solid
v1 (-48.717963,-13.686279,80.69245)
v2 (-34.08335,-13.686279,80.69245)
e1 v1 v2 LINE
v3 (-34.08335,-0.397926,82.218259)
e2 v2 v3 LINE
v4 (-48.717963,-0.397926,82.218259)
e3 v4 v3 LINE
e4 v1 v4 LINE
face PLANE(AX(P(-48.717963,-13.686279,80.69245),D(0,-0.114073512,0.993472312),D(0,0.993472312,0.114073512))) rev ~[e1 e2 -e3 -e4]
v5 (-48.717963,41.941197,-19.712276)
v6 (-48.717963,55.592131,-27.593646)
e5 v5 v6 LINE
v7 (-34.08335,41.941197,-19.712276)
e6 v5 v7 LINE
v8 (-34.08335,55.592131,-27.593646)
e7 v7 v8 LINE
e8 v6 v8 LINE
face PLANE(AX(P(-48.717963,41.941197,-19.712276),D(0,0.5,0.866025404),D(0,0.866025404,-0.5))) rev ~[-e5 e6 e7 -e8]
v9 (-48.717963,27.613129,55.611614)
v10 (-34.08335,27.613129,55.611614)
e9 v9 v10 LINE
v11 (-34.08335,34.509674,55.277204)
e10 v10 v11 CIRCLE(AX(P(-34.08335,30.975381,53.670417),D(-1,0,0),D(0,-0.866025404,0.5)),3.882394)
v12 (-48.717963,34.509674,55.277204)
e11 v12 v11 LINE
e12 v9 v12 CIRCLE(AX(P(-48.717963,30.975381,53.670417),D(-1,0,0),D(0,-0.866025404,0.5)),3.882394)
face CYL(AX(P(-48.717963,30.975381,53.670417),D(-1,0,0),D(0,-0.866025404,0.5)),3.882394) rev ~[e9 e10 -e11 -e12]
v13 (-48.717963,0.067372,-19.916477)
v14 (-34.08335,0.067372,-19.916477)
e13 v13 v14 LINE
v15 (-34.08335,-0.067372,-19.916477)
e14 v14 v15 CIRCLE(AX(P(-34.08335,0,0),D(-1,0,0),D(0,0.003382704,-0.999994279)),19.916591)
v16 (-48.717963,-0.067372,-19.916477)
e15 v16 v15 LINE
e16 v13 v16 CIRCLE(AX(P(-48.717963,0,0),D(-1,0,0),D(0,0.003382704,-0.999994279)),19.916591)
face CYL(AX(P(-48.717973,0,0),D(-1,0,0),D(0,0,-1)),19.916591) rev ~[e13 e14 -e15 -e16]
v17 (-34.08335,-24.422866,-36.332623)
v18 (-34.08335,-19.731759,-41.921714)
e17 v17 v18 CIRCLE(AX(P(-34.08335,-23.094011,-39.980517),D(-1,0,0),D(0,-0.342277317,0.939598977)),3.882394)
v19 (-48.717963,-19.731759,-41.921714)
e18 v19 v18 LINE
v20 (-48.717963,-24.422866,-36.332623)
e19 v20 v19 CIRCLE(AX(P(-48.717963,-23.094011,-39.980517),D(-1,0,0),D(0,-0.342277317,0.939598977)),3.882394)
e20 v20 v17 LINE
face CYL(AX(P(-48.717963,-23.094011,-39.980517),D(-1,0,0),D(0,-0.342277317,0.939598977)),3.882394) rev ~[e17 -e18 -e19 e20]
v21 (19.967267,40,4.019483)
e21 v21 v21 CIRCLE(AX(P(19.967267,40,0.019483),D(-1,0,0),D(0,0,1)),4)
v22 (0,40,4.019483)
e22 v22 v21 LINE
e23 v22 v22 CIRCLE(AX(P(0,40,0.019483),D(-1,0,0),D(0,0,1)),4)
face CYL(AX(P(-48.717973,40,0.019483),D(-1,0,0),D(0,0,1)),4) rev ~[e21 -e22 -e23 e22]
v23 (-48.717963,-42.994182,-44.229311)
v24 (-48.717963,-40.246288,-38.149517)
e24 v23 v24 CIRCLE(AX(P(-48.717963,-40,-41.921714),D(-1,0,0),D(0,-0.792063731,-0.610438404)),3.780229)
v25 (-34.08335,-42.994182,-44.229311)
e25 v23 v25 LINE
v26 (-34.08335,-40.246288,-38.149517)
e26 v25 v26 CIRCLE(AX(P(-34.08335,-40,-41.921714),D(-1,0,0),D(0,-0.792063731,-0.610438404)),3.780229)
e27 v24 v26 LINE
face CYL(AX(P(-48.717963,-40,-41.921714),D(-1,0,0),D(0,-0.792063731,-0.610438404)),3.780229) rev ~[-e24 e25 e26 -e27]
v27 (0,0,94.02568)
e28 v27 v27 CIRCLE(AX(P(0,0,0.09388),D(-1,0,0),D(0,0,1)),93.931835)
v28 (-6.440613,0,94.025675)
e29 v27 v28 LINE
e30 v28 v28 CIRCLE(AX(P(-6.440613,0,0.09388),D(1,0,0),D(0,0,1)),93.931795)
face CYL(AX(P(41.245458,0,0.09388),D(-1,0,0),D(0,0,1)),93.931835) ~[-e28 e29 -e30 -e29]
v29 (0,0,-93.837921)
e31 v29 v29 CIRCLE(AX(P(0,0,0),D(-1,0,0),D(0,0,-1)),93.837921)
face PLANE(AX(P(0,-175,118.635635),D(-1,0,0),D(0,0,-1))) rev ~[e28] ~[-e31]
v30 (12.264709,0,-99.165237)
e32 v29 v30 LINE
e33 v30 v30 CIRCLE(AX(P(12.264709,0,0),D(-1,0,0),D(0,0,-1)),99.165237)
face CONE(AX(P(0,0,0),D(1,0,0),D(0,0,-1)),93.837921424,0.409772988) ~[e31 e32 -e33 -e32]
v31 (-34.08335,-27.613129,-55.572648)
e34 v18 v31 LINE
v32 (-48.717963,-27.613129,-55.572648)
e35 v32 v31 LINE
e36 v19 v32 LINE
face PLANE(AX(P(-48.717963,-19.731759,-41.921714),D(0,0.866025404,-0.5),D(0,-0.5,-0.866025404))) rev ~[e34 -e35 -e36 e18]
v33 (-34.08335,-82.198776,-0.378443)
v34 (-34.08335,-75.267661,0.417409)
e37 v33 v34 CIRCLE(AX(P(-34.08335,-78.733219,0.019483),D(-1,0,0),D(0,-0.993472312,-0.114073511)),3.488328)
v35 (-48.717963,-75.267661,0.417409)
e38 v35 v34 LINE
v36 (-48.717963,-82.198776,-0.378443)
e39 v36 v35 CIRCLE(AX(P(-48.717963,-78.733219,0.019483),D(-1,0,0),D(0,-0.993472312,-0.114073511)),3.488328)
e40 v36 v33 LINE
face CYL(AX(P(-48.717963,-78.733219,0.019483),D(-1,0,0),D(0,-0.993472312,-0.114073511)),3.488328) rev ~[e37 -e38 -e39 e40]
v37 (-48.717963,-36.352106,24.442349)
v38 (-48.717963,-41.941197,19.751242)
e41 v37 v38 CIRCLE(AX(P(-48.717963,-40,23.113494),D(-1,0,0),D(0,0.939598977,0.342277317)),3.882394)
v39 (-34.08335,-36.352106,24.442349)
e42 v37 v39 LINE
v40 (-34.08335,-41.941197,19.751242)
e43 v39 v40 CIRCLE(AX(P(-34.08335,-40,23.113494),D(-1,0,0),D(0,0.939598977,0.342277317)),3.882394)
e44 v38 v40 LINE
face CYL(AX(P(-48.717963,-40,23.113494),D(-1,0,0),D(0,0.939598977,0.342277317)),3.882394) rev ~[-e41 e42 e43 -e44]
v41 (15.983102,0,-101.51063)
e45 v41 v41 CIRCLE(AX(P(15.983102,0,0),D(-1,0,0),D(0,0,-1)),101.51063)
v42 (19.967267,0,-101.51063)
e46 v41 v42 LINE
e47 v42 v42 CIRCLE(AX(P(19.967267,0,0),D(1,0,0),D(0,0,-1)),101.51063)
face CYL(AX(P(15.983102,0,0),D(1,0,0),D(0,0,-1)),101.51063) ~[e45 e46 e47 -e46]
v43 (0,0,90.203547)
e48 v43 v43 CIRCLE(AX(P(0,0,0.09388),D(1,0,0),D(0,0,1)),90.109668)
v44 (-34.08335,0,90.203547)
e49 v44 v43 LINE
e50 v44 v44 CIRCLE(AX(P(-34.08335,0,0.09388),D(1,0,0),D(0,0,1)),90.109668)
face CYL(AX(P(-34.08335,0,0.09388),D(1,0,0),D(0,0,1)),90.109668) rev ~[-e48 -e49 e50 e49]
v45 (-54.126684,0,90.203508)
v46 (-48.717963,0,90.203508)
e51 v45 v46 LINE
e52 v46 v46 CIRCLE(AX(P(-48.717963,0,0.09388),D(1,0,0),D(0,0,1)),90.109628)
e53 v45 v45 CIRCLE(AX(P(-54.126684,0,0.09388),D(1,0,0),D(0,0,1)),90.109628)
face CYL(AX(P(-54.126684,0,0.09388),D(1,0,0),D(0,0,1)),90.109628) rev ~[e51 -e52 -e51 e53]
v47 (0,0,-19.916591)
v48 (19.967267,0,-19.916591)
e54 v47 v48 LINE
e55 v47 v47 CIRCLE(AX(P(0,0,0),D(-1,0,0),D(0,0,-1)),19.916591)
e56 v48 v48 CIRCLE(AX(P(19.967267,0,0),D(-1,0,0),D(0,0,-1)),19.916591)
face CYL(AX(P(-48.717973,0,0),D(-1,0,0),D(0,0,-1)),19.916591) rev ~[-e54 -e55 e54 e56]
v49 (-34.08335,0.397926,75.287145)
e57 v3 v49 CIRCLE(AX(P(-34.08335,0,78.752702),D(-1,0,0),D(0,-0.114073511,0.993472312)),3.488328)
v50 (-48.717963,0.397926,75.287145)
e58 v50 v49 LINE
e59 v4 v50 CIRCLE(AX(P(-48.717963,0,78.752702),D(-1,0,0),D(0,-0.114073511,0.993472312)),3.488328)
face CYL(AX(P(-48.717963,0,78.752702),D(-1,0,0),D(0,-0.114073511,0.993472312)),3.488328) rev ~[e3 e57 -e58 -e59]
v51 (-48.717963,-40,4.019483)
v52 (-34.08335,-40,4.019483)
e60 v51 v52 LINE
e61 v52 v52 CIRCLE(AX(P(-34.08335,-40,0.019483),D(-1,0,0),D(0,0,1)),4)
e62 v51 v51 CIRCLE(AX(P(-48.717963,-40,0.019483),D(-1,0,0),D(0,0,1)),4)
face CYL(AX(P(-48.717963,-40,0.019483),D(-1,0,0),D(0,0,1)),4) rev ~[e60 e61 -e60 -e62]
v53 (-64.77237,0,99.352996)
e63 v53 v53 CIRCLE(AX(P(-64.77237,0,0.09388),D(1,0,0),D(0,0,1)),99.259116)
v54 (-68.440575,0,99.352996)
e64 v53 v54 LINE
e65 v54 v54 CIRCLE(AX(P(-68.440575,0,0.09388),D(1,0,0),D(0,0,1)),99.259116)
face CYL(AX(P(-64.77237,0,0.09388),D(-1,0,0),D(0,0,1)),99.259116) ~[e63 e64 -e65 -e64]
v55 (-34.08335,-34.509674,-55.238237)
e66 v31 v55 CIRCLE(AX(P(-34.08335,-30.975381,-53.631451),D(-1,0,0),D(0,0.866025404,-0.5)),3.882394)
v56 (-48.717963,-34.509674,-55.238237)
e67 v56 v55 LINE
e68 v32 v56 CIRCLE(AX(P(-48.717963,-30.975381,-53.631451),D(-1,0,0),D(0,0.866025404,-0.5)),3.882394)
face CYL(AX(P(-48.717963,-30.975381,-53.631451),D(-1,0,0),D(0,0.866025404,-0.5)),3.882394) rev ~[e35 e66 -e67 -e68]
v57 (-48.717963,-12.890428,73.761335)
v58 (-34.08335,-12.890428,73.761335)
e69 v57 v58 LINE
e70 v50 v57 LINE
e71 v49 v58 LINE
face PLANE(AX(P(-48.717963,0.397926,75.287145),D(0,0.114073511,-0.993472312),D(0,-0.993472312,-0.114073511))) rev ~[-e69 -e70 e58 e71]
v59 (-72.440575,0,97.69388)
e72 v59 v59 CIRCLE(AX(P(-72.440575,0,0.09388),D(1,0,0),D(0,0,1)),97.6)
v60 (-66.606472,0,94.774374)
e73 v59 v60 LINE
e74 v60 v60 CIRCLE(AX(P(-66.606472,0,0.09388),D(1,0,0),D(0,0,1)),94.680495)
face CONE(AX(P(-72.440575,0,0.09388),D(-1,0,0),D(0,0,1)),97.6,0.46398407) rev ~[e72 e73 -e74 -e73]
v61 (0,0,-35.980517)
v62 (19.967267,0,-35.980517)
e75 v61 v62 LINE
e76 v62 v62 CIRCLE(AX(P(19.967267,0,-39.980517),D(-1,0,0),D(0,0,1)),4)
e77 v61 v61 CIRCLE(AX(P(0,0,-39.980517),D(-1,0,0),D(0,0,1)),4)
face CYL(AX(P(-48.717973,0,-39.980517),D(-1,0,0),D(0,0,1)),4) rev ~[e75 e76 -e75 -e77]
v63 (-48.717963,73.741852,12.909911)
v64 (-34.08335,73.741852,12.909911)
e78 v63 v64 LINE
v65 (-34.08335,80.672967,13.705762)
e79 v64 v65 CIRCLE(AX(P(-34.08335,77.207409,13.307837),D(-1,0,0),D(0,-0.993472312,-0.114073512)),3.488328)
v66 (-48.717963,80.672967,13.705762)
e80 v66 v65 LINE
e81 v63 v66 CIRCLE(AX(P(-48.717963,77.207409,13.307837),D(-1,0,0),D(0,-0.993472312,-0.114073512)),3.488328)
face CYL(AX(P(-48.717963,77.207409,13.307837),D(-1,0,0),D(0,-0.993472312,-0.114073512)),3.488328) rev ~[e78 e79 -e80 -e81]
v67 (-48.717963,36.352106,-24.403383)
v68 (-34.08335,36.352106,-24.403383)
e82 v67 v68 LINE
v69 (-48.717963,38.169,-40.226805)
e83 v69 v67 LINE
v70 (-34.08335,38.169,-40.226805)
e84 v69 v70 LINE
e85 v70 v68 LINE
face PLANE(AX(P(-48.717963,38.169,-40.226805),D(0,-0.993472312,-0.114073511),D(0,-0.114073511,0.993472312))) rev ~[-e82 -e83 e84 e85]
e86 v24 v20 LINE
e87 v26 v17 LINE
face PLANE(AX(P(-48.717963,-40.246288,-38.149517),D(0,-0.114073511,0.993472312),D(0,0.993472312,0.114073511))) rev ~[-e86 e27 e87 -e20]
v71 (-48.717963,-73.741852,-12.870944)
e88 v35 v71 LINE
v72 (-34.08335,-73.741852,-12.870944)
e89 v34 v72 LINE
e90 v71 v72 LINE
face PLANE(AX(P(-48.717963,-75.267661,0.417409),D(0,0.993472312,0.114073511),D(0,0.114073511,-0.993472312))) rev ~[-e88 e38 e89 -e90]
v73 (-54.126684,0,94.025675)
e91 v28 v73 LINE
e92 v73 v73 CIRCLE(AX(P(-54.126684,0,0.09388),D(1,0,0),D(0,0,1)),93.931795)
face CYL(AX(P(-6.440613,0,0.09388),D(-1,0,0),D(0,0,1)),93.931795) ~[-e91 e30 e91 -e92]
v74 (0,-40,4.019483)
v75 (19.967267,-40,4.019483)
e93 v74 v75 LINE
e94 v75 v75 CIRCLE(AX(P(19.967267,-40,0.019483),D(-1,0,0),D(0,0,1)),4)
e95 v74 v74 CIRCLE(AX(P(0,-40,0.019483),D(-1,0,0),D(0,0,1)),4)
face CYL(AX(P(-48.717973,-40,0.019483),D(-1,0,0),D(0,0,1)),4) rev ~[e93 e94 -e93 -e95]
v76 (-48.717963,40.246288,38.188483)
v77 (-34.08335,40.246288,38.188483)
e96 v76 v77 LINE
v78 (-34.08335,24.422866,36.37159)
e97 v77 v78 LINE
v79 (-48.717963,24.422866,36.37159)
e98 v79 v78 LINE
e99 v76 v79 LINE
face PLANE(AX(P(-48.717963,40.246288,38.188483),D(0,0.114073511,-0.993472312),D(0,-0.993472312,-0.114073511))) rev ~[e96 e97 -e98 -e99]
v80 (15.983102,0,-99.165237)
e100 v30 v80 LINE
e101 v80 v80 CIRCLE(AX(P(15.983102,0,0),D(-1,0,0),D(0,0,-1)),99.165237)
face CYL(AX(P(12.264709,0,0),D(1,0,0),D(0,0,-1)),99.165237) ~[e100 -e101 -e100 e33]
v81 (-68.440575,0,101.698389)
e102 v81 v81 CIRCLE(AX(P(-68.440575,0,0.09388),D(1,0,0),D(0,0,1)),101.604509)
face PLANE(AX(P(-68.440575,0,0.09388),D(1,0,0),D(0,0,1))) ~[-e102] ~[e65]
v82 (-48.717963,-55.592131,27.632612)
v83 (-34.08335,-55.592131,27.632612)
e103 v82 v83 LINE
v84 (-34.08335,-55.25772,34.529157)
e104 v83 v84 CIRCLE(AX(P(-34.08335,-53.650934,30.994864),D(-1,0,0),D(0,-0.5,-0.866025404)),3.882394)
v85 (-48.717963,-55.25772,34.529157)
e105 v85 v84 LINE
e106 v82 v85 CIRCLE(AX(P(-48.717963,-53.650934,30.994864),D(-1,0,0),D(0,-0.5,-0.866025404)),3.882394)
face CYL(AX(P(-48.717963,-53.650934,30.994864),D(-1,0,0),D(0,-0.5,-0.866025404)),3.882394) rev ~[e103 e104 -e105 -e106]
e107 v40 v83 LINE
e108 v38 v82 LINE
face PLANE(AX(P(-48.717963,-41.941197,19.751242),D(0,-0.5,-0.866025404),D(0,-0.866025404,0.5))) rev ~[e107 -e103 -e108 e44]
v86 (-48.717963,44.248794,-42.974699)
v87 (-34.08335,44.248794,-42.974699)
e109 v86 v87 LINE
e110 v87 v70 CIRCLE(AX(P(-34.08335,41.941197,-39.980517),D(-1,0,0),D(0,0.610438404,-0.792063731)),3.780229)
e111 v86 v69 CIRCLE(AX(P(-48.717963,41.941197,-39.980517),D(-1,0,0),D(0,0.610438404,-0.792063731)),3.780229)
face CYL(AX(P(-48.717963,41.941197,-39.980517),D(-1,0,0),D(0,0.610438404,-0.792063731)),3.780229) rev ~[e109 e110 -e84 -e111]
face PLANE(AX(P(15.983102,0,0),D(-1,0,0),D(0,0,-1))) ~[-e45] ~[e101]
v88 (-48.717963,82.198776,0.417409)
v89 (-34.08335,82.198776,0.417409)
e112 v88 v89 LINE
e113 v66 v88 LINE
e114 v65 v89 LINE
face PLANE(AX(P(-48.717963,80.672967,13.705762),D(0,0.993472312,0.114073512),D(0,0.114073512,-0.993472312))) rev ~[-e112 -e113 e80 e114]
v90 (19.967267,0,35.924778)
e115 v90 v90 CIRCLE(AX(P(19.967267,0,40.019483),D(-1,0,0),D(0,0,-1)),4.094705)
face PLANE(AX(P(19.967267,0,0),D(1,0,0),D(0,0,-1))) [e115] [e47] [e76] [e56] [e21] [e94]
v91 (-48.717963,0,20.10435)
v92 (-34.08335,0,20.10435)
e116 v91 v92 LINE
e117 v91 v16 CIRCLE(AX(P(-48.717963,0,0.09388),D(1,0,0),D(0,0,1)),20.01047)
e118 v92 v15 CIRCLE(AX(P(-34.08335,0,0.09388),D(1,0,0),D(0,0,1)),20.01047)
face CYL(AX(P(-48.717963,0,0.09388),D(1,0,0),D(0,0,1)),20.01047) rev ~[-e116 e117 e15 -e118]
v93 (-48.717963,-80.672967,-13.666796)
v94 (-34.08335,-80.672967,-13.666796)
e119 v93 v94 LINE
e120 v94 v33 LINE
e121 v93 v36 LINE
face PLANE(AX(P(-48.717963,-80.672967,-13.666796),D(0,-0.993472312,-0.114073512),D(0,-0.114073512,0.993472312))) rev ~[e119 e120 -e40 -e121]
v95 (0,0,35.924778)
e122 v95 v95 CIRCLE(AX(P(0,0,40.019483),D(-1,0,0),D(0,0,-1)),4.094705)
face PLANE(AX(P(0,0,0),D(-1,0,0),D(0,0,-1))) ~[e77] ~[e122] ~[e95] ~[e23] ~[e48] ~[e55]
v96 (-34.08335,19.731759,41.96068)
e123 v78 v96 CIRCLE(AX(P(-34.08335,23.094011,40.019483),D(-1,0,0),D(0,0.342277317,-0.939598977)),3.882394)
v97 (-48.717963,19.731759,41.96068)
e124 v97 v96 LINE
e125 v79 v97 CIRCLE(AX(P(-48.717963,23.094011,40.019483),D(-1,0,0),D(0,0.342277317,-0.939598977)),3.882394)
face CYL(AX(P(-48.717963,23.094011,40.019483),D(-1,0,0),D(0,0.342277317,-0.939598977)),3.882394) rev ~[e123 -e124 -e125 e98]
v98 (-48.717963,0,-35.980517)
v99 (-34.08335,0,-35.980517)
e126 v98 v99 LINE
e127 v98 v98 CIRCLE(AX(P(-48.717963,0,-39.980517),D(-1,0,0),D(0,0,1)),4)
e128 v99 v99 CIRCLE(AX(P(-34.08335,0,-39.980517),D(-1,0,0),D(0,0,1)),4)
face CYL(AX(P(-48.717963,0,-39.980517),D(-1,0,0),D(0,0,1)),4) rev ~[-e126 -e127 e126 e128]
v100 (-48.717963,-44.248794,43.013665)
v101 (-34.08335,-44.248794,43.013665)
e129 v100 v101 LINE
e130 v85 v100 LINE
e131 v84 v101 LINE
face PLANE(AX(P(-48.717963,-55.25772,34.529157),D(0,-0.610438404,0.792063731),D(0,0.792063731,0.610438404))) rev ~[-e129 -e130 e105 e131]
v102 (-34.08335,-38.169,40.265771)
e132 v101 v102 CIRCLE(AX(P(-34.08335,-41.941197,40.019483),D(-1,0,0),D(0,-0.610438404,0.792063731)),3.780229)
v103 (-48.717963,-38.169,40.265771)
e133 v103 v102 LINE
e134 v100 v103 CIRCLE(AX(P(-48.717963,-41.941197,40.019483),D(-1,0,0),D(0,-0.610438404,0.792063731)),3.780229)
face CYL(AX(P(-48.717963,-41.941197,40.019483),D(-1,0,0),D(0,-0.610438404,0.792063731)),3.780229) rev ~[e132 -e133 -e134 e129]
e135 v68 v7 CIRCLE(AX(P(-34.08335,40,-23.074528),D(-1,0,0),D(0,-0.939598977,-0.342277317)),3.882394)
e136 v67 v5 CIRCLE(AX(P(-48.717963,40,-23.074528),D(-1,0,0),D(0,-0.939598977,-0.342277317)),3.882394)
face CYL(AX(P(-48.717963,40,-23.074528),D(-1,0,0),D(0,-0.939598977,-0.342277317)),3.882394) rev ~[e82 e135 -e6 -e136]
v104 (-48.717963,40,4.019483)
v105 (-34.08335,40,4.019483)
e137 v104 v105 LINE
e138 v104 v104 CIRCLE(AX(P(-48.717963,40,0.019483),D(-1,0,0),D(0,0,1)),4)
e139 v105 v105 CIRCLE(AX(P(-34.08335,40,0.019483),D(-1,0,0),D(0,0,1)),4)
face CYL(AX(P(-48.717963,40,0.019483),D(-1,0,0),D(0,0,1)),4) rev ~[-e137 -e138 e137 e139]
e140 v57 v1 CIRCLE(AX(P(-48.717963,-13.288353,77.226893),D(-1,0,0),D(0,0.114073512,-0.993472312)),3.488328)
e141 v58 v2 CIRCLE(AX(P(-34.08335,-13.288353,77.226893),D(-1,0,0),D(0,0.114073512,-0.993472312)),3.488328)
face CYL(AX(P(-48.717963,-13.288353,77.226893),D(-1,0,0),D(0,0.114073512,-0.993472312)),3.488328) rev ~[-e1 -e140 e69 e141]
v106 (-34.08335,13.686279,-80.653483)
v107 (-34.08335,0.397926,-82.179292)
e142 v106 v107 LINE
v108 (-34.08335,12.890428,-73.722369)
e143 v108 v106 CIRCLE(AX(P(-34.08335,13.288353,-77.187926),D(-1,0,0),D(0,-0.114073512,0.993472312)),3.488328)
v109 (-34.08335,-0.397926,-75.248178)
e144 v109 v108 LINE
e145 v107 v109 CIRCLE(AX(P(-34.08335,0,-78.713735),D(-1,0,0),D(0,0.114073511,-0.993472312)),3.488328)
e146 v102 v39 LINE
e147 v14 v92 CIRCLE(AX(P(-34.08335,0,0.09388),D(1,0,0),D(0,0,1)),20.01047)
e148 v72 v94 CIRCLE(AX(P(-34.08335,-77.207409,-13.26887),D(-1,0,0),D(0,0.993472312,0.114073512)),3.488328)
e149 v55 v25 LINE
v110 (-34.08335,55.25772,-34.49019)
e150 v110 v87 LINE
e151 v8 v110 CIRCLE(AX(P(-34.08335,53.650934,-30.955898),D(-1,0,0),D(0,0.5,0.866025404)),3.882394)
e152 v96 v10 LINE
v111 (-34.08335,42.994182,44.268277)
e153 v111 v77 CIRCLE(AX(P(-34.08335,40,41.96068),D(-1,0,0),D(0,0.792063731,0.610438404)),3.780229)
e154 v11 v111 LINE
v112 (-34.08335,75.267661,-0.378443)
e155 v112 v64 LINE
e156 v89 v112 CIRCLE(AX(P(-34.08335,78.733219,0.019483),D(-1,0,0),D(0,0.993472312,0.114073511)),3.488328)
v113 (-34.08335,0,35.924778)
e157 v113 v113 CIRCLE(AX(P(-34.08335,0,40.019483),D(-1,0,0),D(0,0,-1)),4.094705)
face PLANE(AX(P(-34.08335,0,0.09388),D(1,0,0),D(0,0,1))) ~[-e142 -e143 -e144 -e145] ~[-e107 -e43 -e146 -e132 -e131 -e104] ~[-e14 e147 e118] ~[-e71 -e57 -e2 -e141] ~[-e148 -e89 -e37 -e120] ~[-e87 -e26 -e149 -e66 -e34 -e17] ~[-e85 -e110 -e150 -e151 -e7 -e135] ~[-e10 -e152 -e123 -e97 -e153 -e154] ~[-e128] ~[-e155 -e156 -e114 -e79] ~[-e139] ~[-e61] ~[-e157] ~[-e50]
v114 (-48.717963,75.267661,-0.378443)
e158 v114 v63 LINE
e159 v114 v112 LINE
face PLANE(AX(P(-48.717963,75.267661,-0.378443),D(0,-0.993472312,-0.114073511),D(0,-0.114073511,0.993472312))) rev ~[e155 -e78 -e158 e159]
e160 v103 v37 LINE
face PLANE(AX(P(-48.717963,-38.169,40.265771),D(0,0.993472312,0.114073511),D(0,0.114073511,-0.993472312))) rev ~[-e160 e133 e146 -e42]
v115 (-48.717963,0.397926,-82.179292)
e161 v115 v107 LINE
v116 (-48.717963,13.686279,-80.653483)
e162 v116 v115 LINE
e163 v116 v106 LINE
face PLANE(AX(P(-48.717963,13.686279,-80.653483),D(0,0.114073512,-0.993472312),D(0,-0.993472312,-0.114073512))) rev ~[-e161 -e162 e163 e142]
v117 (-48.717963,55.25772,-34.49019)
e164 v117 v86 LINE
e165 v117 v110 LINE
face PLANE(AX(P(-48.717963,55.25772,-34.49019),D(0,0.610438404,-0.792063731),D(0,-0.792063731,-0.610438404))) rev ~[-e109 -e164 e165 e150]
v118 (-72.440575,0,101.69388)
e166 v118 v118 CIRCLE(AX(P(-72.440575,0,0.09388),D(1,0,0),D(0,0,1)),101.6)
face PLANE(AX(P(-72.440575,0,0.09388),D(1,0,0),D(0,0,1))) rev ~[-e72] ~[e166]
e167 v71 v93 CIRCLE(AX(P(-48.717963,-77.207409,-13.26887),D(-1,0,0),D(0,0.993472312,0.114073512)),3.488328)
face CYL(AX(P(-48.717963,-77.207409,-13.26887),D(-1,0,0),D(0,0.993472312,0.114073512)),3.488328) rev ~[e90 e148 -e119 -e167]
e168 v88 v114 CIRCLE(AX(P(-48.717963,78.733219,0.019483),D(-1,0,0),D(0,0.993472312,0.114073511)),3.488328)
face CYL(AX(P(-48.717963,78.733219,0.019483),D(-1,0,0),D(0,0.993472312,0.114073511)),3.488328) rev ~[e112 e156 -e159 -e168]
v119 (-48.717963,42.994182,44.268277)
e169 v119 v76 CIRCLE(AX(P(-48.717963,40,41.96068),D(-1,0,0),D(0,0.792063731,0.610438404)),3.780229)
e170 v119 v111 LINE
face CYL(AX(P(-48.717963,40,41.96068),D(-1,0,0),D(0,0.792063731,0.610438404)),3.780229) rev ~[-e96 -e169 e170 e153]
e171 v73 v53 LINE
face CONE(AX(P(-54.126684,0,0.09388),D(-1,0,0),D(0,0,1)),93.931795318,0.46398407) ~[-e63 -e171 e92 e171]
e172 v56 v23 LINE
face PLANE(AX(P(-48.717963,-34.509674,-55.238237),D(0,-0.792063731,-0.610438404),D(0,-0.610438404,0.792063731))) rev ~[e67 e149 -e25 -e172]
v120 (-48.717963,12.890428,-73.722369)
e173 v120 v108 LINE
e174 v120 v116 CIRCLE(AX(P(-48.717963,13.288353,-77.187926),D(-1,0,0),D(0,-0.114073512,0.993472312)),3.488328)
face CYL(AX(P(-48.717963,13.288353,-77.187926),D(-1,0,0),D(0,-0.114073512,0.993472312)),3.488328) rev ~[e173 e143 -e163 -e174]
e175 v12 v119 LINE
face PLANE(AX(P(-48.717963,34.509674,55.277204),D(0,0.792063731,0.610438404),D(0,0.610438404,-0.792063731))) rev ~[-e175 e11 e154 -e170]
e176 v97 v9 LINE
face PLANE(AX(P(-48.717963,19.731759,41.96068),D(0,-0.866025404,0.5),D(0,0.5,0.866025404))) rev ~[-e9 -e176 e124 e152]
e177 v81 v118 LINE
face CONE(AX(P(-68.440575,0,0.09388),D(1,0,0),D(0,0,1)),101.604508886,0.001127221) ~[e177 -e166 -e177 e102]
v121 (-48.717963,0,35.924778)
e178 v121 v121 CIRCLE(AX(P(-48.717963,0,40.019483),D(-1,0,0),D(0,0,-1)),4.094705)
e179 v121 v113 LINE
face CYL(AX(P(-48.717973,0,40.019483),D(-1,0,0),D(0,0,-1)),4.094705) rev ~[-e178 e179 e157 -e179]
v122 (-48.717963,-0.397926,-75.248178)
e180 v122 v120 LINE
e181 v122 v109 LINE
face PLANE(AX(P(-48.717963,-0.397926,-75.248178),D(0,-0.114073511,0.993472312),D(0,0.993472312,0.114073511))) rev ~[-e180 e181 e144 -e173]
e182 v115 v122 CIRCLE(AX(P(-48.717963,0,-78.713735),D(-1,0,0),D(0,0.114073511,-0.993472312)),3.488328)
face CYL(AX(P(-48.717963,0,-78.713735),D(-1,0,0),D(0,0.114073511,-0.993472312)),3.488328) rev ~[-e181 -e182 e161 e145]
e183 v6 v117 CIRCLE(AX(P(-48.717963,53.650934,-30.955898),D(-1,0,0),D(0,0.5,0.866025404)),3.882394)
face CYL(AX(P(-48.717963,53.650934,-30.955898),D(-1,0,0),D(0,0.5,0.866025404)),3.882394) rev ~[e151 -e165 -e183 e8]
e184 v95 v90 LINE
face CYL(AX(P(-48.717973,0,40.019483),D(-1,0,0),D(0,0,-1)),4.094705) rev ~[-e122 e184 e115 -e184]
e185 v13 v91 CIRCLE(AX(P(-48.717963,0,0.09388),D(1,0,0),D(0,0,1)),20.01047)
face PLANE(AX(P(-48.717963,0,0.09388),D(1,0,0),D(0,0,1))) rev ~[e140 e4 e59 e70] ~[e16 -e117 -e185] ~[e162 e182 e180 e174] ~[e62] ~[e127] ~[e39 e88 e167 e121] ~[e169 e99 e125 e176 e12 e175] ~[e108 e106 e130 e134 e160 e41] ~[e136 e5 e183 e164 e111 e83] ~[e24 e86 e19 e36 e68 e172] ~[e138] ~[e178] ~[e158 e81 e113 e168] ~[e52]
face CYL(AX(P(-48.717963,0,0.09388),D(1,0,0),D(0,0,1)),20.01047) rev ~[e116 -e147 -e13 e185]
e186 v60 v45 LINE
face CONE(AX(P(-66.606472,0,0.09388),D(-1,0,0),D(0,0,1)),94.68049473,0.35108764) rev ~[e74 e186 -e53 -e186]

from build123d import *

# Parameters (mm, degrees)
CROQUIS2_R                 = 5
CORTAR_EXTRUIR1_DEPTH      = 225.951634778
ESCALA1_SCALE              = 0.8
CORTAR_EXTRUIR2_DEPTH      = 255
CORTAR_EXTRUIR2_DEPTH_BACK = 175
CROQUIS3_W                 = 69.878792472
CROQUIS3_H                 = 224.605431487
CROQUIS5_R                 = 101.510629677
CORTAR_EXTRUIR3_DEPTH      = 1.8
CROQUIS6_R                 = 19.91659092
CORTAR_EXTRUIR4_DEPTH      = 123
CROQUIS7_R                 = 4
CROQUIS7_R_2               = 4.0947051
CORTAR_EXTRUIR5_DEPTH      = 123


with BuildPart() as part:
    # Croquis1 → Revolución1 (revolve)
    with BuildSketch(Plane(origin=(0, 0, 0), x_dir=(1, 0, 0), z_dir=(0, 1, 0)), mode=Mode.PRIVATE) as revoluci_n1_sk:
        Polygon((-84.492307697, 126.907004271), (-84.492307697, 121.907004271), (-77.199679771, 118.257622684), (-61.599944947, 112.544039646), (-54.839043525, 112.544039646), (-54.839043525, 24.920091933), (-36.545776531, 24.920091933), (-36.545776531, 112.544088846), (57.615236657, 112.544088846), (73.214966765, 118.25768476), (80.50759168, 121.907072367), (80.507587553, 126.907072367), (75.507587548, 126.912704348), (75.507589968, 123.980963434), (70.922334115, 123.980959649), (57.615232714, 117.321797618), (-1.992356117, 117.321748418), (-61.599944947, 117.321748418), (-74.907051844, 123.980899465), (-79.492307697, 123.980899465), (-79.492307697, 126.912640379), align=None)
    revolve(revoluci_n1_sk.sketch.rotate(Axis((-84.492307697, 0, 0.092995729), (1, 0, 0)), 180), axis=Axis((-84.492307697, 0, 0.092995729), (1, 0, 0)))

    # Croquis2 → Cortar-Extruir1 (cut, through all)
    with BuildSketch(Plane.ZY.offset(54.839043525)):
        with BuildLine():
            ThreePointArc((30.528582788, -45.440133008), (25.150332276, -46.880047701), (24.664698483, -52.426496358))
            Line((24.664698483, -52.426496358), (34.516411599, -69.490164015))
            ThreePointArc((34.516411599, -69.490164015), (38.954270135, -71.910965134), (43.137091963, -69.072150594))
            Line((43.137091963, -69.072150594), (53.742727711, -55.310992442))
            ThreePointArc((53.742727711, -55.310992442), (54.305907236, -50.480348559), (50.307859812, -47.711249735))
            Line((50.307859812, -47.711249735), (30.528582788, -45.440133008))
        make_face()
        with BuildLine():
            ThreePointArc((45.440133008, 30.528582788), (46.880047701, 25.150332276), (52.426496358, 24.664698483))
            Line((52.426496358, 24.664698483), (69.490164015, 34.516411599))
            ThreePointArc((69.490164015, 34.516411599), (71.910965134, 38.954270135), (69.072150594, 43.137091963))
            Line((69.072150594, 43.137091963), (55.310992442, 53.742727711))
            ThreePointArc((55.310992442, 53.742727711), (50.480348559, 54.305907236), (47.711249735, 50.307859812))
            Line((47.711249735, 50.307859812), (45.440133008, 30.528582788))
        make_face()
        with BuildLine():
            ThreePointArc((-45.440133008, -30.528582788), (-46.880047701, -25.150332276), (-52.426496358, -24.664698483))
            Line((-52.426496358, -24.664698483), (-69.490164015, -34.516411599))
            ThreePointArc((-69.490164015, -34.516411599), (-71.910965134, -38.954270135), (-69.072150594, -43.137091963))
            Line((-69.072150594, -43.137091963), (-55.310992442, -53.742727711))
            ThreePointArc((-55.310992442, -53.742727711), (-50.480348559, -54.305907236), (-47.711249735, -50.307859812))
            Line((-47.711249735, -50.307859812), (-45.440133008, -30.528582788))
        make_face()
        with BuildLine():
            ThreePointArc((-30.528582788, 45.440133008), (-25.150332276, 46.880047701), (-24.664698483, 52.426496358))
            Line((-24.664698483, 52.426496358), (-34.516411599, 69.490164015))
            ThreePointArc((-34.516411599, 69.490164015), (-38.954270135, 71.910965134), (-43.137091963, 69.072150594))
            Line((-43.137091963, 69.072150594), (-53.742727711, 55.310992442))
            ThreePointArc((-53.742727711, 55.310992442), (-54.305907236, 50.480348559), (-50.307859812, 47.711249735))
            Line((-50.307859812, 47.711249735), (-30.528582788, 45.440133008))
        make_face()
        with BuildLine():
            Line((-100.841208128, 17.107848943), (-102.748469547, 0.497407258))
            ThreePointArc((-102.748469547, 0.497407258), (-98.913930395, -4.33194641), (-94.084576727, -0.497407258))
            Line((-94.084576727, -0.497407258), (-92.177315309, 16.113034427))
            ThreePointArc((-92.177315309, 16.113034427), (-96.011854461, 20.942388095), (-100.841208128, 17.107848943))
        make_face()
        with BuildLine():
            Line((17.107848943, 100.841208128), (0.497407258, 102.748469547))
            ThreePointArc((0.497407258, 102.748469547), (-4.33194641, 98.913930395), (-0.497407258, 94.084576727))
            Line((-0.497407258, 94.084576727), (16.113034427, 92.177315309))
            ThreePointArc((16.113034427, 92.177315309), (20.942388095, 96.011854461), (17.107848943, 100.841208128))
        make_face()
        with BuildLine():
            Line((100.841208128, -17.107848943), (102.748469547, -0.497407258))
            ThreePointArc((102.748469547, -0.497407258), (98.913930395, 4.33194641), (94.084576727, 0.497407258))
            Line((94.084576727, 0.497407258), (92.177315309, -16.113034427))
            ThreePointArc((92.177315309, -16.113034427), (96.011854461, -20.942388095), (100.841208128, -17.107848943))
        make_face()
        with BuildLine():
            Line((-17.107848943, -100.841208128), (-0.497407258, -102.748469547))
            ThreePointArc((-0.497407258, -102.748469547), (4.33194641, -98.913930395), (0.497407258, -94.084576727))
            Line((0.497407258, -94.084576727), (-16.113034427, -92.177315309))
            ThreePointArc((-16.113034427, -92.177315309), (-20.942388095, -96.011854461), (-17.107848943, -100.841208128))
        make_face()
        with Locations((50, 0)):
            Circle(CROQUIS2_R)
        with Locations((0, -50)):
            Circle(CROQUIS2_R)
        with Locations((-50, 0)):
            Circle(CROQUIS2_R)
        with Locations((0, 50)):
            Circle(CROQUIS2_R)
    extrude(amount=-CORTAR_EXTRUIR1_DEPTH, mode=Mode.SUBTRACT)


with BuildPart() as part_1:
    # Escala1: scaled about (-24.23364214, 0, 0.097415806)
    add(part.part.scale(ESCALA1_SCALE).moved(Location((-4.846728428, 0, 0.019483161))))

    # Croquis3 → Cortar-Extruir2 (cut, two sides: drawn at the far end of the back side and taken through both)
    with BuildSketch(Plane(origin=(0, 0, 0), x_dir=(1, 0, 0), z_dir=(0, 1, 0)).offset(-CORTAR_EXTRUIR2_DEPTH_BACK)):
        with Locations((34.939396236, -6.332918973)):
            Rectangle(CROQUIS3_W, CROQUIS3_H)
    extrude(amount=CORTAR_EXTRUIR2_DEPTH + CORTAR_EXTRUIR2_DEPTH_BACK, mode=Mode.SUBTRACT)

    # Croquis4 → Revolución3 (revolve)
    with BuildSketch(Plane(origin=(0, 0, 0), x_dir=(1, 0, 0), z_dir=(0, 1, 0))):
        Polygon((0, 93.837921424), (12.264709329, 99.165236946), (15.983101642, 99.165236946), (15.983101642, 101.510629677), (21.767267462, 101.510629677), (21.767267462, 0), (0, 0), align=None)
    revolve(axis=Axis((21.767267462, 0, 0), (-1, 0, 0)))

    # Croquis5 → Cortar-Extruir3 (cut)
    with BuildSketch(Plane(origin=(21.767267462, 0, 0), x_dir=(0, 0, -1), z_dir=(1, 0, 0))):
        Circle(CROQUIS5_R)
    extrude(amount=-CORTAR_EXTRUIR3_DEPTH, mode=Mode.SUBTRACT)

    # Croquis6 → Cortar-Extruir4 (cut)
    with BuildSketch(Plane.ZY.offset(48.717972584)):
        with Locations(Location((0, 0, 0), (0, 0, 180))):
            Circle(CROQUIS6_R)
    extrude(amount=-CORTAR_EXTRUIR4_DEPTH, mode=Mode.SUBTRACT)

    # Croquis7 → Cortar-Extruir5 (cut)
    with BuildSketch(Plane.ZY.offset(48.717972584)):
        with Locations((0.019482626, 40)):
            Circle(CROQUIS7_R)
        with Locations(Location((40.019482626, 0, 0), (0, 0, 180))):
            Circle(CROQUIS7_R_2)
        with Locations((-39.980517374, 0)):
            Circle(CROQUIS7_R)
        with Locations((0.019482626, -40)):
            Circle(CROQUIS7_R)
    extrude(amount=-CORTAR_EXTRUIR5_DEPTH, mode=Mode.SUBTRACT)


solid = part_1.part
